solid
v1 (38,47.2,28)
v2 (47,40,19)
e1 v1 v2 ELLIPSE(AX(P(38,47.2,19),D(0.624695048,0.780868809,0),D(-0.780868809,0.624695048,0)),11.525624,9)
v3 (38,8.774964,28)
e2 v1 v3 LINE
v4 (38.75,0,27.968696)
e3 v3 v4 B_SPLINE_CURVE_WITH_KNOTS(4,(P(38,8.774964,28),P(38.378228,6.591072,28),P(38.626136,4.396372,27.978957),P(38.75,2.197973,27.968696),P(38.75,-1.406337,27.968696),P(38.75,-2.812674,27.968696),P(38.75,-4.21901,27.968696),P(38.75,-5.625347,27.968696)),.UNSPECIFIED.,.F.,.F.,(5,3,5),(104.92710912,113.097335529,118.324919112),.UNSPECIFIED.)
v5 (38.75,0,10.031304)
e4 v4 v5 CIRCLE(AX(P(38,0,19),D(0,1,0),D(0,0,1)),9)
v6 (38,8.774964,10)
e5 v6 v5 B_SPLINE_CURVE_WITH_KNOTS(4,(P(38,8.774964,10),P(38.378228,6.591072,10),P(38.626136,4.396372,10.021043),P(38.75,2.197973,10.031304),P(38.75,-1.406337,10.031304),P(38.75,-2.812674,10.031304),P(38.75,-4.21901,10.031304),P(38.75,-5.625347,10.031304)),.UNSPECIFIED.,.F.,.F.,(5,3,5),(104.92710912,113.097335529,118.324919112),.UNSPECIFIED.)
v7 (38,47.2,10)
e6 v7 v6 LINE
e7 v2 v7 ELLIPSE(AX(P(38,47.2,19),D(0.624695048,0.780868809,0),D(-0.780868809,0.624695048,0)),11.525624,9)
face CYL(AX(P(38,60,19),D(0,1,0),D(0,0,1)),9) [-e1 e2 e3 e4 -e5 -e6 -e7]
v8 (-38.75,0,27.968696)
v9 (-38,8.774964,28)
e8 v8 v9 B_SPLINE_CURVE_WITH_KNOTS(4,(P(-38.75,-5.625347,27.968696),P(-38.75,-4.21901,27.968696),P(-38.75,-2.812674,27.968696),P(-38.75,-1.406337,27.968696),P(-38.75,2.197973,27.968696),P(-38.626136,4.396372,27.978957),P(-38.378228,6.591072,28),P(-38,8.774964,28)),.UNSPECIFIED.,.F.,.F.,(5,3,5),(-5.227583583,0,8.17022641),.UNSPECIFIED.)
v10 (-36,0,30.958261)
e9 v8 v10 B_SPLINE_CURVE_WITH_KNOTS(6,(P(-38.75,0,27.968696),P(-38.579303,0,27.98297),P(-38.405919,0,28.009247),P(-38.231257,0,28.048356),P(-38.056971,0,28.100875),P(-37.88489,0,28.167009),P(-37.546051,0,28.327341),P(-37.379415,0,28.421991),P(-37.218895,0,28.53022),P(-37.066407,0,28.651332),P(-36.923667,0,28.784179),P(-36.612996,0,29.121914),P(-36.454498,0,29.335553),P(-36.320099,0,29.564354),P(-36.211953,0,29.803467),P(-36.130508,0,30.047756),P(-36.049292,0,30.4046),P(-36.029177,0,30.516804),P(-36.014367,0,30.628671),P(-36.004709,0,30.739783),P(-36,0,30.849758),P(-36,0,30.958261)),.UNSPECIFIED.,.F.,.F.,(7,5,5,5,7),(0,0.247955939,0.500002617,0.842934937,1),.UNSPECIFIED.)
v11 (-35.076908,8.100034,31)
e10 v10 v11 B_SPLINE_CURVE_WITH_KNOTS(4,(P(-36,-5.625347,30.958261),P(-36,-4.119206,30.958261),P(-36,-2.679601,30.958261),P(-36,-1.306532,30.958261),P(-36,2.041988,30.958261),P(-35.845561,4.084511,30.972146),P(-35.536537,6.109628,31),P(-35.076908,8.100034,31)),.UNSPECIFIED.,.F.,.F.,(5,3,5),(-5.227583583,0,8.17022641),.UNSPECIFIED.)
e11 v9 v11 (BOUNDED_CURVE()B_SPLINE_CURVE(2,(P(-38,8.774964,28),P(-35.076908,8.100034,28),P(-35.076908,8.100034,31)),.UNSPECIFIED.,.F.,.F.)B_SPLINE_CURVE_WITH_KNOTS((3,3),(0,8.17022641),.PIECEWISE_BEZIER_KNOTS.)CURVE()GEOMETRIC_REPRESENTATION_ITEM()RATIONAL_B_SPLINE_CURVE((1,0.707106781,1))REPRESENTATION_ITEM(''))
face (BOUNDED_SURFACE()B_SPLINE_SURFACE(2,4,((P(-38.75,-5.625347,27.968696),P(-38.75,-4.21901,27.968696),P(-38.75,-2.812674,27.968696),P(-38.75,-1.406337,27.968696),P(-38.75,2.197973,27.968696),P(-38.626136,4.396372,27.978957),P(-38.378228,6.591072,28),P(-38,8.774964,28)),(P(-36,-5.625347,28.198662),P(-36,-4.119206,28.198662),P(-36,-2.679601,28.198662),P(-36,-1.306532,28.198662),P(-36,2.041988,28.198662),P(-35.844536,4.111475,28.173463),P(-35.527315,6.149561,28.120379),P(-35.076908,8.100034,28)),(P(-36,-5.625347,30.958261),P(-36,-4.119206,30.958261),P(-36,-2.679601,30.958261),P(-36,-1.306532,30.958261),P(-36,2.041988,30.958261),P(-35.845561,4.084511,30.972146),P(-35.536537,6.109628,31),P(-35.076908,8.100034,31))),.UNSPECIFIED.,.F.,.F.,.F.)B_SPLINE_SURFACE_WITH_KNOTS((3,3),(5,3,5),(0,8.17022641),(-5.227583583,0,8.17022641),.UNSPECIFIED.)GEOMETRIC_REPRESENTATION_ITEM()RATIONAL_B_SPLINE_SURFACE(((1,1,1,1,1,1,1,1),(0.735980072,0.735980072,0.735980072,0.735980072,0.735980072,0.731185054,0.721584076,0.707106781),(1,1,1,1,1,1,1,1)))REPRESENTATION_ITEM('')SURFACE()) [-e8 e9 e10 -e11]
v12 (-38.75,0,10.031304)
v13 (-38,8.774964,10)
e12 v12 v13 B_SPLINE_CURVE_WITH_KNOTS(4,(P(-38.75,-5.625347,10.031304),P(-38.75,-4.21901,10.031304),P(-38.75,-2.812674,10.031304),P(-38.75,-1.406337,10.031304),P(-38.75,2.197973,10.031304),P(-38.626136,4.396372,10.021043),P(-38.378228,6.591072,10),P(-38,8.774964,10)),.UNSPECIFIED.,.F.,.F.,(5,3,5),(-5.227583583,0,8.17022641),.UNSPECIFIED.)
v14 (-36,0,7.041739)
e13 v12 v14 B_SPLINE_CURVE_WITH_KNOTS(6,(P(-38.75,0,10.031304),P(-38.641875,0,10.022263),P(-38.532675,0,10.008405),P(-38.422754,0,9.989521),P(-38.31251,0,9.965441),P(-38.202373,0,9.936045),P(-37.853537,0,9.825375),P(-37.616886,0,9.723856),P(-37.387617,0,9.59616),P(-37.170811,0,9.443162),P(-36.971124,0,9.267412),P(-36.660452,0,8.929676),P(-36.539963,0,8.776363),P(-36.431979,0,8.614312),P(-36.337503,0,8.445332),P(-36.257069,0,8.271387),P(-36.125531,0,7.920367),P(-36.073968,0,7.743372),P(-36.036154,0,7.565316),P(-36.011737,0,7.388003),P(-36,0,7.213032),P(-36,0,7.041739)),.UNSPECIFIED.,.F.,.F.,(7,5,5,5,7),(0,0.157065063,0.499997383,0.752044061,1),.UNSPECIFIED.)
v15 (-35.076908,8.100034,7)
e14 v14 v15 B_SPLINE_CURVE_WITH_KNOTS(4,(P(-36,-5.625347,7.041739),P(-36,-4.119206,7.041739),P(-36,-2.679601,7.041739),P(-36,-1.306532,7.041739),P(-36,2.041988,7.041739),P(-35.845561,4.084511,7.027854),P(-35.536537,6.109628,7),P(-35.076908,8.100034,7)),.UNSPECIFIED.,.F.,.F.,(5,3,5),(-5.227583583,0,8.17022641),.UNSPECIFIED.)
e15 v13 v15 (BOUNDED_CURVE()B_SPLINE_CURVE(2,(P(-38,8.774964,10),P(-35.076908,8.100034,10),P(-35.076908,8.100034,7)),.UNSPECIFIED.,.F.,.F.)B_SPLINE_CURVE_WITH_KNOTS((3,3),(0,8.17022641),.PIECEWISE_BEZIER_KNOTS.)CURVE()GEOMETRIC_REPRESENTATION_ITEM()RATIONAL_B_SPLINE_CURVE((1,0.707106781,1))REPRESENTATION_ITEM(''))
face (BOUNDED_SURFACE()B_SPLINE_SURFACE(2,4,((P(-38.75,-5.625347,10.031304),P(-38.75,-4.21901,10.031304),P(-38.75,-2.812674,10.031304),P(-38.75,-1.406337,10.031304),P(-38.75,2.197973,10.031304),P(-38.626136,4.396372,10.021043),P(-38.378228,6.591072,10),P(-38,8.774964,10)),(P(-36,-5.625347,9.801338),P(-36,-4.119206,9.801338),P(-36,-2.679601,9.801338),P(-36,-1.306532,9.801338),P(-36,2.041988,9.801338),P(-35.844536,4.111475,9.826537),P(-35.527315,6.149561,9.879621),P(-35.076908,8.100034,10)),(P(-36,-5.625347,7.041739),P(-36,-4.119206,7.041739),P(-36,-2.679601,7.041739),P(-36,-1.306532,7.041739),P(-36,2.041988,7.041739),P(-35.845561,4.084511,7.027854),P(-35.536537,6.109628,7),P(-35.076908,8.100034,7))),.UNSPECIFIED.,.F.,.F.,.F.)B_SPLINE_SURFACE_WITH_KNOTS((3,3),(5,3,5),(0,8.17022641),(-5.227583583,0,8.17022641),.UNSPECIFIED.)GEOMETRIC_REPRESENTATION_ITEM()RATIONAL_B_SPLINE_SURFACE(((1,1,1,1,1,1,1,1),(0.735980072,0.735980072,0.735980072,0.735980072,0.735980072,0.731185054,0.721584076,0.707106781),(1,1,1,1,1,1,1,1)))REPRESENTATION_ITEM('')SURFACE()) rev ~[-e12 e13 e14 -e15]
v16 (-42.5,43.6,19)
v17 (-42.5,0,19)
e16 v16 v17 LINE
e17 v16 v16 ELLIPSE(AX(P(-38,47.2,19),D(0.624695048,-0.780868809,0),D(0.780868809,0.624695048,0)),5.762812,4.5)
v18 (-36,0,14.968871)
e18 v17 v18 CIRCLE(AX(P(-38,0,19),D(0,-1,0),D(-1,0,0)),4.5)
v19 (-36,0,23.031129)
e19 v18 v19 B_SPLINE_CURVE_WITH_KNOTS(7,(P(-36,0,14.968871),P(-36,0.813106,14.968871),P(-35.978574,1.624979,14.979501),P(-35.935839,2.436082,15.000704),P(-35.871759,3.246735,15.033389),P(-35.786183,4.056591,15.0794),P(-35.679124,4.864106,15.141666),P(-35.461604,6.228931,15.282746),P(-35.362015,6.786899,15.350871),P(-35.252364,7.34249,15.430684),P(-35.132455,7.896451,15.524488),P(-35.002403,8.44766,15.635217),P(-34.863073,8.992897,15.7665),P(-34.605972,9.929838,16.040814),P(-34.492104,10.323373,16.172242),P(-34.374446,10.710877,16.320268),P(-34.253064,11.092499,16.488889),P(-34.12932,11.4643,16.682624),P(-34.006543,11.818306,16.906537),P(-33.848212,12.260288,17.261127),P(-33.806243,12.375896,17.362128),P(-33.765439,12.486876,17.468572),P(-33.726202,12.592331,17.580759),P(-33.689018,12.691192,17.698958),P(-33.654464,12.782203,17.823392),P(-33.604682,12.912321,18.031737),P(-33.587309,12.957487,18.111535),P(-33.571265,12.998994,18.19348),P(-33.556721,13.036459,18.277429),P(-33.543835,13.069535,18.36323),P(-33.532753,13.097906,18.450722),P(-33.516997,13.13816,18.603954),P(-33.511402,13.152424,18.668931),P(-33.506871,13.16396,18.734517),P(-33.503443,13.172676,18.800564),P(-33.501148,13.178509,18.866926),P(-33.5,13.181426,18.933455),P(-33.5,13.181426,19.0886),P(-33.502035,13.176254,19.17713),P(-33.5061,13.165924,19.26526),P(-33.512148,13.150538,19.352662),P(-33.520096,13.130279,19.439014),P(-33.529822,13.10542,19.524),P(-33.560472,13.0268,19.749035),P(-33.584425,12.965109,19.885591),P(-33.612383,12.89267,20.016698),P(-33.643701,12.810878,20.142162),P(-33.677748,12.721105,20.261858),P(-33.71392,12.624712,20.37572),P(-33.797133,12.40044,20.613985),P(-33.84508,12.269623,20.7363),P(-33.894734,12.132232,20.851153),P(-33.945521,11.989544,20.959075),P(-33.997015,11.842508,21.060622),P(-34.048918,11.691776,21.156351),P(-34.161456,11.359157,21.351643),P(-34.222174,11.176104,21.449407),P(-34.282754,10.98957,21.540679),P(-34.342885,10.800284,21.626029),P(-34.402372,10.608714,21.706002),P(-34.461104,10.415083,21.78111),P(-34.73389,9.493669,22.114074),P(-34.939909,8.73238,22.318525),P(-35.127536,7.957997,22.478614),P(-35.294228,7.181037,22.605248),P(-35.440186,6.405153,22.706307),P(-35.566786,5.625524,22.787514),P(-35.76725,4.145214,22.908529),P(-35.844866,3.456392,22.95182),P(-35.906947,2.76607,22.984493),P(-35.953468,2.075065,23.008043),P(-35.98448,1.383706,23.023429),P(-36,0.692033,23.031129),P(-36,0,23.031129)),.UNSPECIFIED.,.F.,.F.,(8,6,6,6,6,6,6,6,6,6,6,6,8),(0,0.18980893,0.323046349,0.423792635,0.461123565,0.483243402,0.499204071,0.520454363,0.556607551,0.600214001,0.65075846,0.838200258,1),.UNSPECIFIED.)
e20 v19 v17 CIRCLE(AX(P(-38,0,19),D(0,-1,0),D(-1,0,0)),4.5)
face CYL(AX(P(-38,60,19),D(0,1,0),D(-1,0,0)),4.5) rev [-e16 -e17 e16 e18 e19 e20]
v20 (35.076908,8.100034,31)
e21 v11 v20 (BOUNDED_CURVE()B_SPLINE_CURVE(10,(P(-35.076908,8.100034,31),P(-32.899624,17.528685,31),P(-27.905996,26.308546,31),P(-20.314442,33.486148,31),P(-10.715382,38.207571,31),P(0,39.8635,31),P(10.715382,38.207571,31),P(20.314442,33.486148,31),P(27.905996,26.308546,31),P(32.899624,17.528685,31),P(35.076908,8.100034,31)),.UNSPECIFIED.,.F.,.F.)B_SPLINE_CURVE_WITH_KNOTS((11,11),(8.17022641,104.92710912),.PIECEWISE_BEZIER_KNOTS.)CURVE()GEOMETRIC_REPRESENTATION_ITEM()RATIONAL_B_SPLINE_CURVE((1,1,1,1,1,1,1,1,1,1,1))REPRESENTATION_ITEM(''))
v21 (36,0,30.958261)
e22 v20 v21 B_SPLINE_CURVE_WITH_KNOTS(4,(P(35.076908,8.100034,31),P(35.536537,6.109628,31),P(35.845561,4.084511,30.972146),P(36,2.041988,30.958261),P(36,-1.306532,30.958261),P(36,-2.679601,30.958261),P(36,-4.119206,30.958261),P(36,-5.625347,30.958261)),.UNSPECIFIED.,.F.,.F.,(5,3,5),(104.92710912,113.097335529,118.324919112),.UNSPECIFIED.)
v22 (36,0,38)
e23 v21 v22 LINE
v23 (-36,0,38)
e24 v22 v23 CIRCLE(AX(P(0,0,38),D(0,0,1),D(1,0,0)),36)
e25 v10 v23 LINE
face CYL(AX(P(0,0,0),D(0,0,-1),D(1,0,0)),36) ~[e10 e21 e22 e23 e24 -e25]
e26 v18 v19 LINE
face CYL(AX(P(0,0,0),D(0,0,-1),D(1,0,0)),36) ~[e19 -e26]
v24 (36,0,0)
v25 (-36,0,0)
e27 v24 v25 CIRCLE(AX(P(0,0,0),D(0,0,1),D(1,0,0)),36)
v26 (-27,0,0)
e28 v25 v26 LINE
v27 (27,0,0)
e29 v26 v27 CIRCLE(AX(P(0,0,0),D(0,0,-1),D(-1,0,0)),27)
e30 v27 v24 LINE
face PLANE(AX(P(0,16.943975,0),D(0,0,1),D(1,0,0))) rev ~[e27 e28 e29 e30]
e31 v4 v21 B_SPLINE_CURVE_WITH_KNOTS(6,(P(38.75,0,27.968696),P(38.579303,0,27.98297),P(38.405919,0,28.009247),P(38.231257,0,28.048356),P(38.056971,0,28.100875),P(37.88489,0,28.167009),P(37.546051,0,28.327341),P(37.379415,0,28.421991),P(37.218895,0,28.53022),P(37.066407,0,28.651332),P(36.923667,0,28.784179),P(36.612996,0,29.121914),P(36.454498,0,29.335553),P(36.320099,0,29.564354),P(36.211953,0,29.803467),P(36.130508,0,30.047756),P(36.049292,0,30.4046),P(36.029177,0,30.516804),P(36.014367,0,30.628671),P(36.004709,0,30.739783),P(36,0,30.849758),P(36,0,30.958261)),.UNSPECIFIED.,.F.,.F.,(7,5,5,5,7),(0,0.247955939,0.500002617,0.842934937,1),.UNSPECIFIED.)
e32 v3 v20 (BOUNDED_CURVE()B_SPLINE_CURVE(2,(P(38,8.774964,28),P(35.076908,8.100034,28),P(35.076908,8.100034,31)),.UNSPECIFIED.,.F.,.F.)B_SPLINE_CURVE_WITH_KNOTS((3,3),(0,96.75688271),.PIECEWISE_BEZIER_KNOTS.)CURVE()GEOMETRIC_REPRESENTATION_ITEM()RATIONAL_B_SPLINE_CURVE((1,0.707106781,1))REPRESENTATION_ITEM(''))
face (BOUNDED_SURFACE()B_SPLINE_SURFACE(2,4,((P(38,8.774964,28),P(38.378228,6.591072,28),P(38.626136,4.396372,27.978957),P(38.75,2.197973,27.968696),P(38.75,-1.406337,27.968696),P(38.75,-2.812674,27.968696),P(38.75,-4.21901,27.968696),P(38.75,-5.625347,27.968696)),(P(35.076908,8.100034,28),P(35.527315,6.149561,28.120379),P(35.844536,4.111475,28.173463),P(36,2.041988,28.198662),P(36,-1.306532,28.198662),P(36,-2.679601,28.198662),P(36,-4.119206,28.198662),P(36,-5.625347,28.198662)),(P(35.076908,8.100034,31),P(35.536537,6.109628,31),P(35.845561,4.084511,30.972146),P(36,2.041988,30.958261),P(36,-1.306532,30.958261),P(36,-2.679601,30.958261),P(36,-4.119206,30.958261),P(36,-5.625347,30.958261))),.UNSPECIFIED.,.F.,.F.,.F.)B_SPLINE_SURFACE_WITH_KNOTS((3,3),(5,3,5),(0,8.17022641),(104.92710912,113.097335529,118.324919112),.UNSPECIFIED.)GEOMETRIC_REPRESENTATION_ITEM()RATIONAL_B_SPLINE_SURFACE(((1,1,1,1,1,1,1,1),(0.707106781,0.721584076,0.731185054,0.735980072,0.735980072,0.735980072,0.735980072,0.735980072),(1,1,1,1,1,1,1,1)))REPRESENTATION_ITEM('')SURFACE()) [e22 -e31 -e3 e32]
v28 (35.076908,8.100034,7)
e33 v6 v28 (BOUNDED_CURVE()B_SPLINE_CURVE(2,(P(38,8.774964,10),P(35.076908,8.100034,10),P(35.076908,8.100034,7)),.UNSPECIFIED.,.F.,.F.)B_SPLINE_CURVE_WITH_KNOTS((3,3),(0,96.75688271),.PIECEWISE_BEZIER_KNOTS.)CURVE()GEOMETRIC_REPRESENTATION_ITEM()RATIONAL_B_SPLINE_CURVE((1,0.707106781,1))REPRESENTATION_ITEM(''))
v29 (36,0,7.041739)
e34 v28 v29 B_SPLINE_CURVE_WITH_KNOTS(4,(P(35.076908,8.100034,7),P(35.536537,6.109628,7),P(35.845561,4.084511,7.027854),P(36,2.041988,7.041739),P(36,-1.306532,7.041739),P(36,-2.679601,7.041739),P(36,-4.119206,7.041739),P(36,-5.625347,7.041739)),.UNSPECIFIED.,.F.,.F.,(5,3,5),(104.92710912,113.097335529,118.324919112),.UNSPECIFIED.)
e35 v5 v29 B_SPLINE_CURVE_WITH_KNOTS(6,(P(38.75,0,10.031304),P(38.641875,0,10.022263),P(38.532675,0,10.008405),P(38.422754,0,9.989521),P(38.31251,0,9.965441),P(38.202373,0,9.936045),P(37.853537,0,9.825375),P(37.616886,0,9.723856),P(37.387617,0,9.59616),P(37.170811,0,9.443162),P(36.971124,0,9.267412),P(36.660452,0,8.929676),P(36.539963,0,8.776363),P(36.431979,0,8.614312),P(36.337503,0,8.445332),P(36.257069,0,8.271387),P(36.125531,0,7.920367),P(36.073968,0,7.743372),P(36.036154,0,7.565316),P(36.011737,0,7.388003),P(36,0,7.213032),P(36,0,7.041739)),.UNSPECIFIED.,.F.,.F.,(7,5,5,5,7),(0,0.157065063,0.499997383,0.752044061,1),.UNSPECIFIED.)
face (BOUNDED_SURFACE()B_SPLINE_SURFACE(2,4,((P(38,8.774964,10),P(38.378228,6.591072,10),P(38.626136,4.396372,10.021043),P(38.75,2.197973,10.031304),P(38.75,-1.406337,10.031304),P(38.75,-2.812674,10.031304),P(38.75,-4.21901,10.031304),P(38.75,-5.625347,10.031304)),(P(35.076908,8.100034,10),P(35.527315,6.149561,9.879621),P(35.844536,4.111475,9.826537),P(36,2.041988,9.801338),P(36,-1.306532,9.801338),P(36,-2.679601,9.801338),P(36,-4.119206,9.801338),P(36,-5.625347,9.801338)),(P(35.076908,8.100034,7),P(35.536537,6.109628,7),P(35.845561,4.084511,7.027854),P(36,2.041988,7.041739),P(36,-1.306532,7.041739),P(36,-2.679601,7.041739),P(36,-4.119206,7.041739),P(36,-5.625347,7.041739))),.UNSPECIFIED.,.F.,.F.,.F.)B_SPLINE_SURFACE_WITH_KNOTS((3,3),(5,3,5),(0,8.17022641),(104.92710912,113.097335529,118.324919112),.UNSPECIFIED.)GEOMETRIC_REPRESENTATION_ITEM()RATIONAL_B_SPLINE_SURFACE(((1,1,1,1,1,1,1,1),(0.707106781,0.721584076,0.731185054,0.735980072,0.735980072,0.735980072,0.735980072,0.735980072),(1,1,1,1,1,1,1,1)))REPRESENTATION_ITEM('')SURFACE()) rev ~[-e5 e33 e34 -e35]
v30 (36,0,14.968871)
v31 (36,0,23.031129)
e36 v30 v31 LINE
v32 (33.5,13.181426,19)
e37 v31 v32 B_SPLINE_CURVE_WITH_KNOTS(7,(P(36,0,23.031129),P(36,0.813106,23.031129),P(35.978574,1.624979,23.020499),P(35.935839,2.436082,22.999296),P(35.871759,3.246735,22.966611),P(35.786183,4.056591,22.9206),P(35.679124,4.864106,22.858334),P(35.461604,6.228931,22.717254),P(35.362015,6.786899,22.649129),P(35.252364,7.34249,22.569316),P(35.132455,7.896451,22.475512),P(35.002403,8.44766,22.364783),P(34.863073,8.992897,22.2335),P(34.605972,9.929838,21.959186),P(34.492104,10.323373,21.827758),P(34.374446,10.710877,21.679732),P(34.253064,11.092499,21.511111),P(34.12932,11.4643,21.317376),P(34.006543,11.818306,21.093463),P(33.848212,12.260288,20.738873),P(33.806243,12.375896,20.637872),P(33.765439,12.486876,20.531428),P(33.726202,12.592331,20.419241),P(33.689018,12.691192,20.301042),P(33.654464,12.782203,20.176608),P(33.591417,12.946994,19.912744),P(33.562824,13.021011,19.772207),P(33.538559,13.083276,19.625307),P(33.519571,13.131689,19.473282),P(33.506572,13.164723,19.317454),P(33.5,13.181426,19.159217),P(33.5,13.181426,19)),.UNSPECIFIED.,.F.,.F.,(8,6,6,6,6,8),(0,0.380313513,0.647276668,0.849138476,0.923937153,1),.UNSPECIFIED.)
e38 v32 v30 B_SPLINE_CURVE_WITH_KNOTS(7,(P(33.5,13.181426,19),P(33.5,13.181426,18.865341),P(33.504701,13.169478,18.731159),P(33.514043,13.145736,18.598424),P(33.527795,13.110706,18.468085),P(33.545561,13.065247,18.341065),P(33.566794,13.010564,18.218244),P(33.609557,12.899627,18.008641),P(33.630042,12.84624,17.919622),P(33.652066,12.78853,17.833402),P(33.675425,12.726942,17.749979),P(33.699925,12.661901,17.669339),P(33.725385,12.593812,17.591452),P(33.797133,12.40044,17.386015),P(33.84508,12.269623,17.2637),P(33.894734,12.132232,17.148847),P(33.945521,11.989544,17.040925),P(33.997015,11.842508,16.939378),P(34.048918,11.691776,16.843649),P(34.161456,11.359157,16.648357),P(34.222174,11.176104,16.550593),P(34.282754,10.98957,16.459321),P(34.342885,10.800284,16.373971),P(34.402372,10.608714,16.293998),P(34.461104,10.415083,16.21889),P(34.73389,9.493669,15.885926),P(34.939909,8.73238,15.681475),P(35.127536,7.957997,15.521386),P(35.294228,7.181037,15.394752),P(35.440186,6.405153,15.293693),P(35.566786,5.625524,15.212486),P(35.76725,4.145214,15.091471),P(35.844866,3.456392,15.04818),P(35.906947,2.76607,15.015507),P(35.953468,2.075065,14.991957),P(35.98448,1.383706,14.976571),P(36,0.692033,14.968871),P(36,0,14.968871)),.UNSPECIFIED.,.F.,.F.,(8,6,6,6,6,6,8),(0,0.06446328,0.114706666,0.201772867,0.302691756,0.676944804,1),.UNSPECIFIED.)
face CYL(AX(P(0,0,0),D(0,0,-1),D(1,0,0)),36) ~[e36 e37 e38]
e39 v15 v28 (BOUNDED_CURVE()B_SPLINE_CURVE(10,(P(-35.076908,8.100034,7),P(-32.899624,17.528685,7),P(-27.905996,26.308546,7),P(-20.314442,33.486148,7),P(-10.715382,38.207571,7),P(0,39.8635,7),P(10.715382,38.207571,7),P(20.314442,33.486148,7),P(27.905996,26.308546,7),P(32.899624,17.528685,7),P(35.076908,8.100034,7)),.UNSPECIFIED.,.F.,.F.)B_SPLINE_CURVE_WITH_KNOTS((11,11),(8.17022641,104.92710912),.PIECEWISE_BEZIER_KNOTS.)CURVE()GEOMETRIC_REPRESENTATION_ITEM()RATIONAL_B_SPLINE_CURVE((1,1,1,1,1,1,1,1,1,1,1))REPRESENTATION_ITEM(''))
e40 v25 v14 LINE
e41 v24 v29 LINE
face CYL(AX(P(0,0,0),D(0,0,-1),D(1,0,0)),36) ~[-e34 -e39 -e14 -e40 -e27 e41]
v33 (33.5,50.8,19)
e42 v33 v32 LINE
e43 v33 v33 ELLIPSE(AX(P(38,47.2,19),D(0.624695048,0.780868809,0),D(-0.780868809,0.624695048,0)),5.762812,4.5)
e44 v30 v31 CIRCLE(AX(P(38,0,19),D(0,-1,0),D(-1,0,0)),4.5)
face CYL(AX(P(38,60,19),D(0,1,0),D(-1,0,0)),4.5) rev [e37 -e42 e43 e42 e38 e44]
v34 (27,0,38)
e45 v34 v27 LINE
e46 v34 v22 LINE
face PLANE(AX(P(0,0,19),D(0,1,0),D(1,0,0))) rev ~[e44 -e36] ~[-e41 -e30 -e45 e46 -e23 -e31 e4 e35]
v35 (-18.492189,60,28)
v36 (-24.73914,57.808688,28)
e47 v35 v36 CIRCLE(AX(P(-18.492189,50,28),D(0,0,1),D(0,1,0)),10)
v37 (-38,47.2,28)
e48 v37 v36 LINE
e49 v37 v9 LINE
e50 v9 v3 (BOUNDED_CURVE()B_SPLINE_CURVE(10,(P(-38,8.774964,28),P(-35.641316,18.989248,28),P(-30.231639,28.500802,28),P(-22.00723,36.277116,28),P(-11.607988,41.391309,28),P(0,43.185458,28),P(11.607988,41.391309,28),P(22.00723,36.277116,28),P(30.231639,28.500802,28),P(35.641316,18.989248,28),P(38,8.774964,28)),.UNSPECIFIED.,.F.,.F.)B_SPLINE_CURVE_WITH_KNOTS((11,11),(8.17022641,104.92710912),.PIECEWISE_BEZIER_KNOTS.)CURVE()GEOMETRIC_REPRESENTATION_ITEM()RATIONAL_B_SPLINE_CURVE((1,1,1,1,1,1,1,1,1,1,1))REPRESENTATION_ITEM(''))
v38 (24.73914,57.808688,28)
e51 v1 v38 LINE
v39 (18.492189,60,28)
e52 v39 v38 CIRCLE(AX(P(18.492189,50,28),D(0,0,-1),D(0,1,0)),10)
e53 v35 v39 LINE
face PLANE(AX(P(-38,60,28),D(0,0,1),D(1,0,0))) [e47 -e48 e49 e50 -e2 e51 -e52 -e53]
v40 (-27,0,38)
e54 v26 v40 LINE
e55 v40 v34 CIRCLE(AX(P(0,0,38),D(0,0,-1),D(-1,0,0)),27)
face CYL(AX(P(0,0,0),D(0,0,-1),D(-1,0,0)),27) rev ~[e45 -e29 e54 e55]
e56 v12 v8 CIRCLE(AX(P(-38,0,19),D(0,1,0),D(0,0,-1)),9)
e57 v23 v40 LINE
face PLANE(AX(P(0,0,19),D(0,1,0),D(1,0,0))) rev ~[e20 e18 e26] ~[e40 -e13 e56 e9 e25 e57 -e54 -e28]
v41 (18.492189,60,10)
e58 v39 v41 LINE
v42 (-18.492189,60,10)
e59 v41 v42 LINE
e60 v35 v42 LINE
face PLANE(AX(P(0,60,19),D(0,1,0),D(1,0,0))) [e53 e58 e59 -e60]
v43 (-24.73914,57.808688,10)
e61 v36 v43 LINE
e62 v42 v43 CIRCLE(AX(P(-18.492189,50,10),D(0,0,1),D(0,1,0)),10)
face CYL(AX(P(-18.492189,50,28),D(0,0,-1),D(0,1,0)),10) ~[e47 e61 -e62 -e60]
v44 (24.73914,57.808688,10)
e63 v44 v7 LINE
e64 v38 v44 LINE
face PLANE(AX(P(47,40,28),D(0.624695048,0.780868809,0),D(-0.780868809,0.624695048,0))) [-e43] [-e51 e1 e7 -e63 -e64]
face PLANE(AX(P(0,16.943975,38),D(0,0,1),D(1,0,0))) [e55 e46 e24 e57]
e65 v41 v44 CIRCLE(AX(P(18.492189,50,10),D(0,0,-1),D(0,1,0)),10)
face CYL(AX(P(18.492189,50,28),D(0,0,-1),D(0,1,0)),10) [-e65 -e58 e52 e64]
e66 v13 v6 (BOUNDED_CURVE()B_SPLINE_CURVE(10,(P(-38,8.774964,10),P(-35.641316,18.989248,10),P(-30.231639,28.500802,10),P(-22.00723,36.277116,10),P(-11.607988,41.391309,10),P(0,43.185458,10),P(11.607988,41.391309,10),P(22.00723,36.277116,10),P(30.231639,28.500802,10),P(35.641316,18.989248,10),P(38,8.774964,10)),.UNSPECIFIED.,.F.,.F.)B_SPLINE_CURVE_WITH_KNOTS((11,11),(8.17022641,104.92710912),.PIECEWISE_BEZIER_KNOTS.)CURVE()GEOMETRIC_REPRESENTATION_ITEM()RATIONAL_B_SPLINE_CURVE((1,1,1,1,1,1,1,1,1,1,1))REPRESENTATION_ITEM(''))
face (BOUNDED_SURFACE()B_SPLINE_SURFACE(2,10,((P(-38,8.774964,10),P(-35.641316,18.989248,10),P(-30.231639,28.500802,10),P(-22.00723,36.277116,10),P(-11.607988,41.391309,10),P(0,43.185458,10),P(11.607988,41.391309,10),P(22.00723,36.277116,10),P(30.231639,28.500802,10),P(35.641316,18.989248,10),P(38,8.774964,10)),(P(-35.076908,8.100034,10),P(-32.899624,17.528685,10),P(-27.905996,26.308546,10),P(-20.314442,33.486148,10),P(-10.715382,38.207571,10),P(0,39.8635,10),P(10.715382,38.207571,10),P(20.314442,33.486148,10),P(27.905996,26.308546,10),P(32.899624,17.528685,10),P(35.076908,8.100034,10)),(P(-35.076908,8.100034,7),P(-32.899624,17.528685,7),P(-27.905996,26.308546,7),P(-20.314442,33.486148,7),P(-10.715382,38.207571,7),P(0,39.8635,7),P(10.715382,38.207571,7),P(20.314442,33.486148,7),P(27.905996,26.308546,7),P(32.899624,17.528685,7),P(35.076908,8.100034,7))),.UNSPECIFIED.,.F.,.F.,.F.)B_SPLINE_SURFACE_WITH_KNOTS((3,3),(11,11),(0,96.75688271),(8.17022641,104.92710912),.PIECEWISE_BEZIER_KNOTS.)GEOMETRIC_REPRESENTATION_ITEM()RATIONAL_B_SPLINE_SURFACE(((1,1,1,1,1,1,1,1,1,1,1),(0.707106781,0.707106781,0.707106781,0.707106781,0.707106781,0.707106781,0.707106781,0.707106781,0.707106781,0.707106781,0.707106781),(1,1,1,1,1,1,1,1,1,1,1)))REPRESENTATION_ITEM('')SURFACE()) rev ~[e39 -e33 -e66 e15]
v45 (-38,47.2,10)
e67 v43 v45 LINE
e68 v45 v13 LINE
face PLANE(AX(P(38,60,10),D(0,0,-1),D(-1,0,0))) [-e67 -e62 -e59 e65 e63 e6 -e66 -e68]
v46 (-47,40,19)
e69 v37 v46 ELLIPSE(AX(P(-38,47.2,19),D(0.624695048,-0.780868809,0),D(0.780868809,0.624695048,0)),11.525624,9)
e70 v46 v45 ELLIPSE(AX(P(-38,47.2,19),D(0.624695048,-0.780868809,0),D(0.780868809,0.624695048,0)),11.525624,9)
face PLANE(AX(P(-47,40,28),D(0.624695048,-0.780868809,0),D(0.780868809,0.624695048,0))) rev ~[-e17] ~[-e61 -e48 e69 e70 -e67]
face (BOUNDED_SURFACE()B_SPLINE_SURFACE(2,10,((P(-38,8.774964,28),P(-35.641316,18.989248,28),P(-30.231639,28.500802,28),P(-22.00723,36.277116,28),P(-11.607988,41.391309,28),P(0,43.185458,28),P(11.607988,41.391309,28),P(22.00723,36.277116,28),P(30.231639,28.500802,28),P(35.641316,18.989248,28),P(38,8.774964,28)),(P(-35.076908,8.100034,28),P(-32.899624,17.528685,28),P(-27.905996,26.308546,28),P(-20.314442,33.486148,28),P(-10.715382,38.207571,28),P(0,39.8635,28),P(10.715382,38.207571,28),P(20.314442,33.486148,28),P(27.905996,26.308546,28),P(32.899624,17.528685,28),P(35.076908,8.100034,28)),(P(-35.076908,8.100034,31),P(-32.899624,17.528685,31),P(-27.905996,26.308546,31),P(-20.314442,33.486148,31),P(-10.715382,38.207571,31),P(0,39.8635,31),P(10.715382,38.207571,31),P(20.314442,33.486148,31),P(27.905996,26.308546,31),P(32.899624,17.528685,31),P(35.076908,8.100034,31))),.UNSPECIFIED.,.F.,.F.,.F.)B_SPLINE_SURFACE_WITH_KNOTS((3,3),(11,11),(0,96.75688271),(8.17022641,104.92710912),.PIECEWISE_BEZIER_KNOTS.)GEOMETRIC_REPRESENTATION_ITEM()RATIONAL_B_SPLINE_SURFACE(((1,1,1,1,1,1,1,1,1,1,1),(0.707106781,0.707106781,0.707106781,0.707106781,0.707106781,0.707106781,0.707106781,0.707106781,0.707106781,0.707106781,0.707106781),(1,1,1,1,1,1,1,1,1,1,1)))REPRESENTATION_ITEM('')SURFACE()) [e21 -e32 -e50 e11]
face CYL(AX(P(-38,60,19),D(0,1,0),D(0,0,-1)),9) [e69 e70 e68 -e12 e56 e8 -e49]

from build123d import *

# Parameters (mm, degrees)
BOSS_EXTRUDE1_DEPTH = 38
SKETCH3_R           = 4.5
BOSS_EXTRUDE2_DEPTH = 60
CUT_EXTRUDE1_DEPTH  = 60
CUT_EXTRUDE2_DEPTH  = 60
FILLET1_R           = 10
FILLET2_R           = 3


with BuildPart() as part:
    # Sketch2 → Boss-Extrude1 (new body)
    with BuildSketch(Plane.XY):
        with BuildLine():
            Line((-36, 0), (-27, 0))
            ThreePointArc((-27, 0), (0, 27), (27, 0))
            Line((27, 0), (36, 0))
            ThreePointArc((36, 0), (0, 36), (-36, 0))
        make_face()
    extrude(amount=BOSS_EXTRUDE1_DEPTH)

    # Sketch3 → Boss-Extrude2 (add)
    with BuildSketch(Plane(origin=(0, 60, 0), x_dir=(-1, 0, 0), z_dir=(0, -1, 0))):
        with BuildLine():
            Line((38, -28), (-38, -28))
            ThreePointArc((-38, -28), (-47, -19), (-38, -10))
            Line((-38, -10), (38, -10))
            ThreePointArc((38, -10), (47, -19), (38, -28))
        make_face()
        with Locations((38, -19)):
            Circle(SKETCH3_R, mode=Mode.SUBTRACT)
        with Locations((-38, -19)):
            Circle(SKETCH3_R, mode=Mode.SUBTRACT)
    extrude(amount=BOSS_EXTRUDE2_DEPTH)

    # Sketch4 → Cut-Extrude1 (cut)
    with BuildSketch(Plane.XY.offset(28)):
        with BuildLine():
            Line((-27, 0), (27, 0))
            ThreePointArc((27, 0), (0, 27), (-27, 0))
        make_face()
    extrude(amount=-CUT_EXTRUDE1_DEPTH, mode=Mode.SUBTRACT)

    # Sketch5 → Cut-Extrude2 (cut)
    with BuildSketch(Plane.XY.offset(28)):
        Polygon((-47, 40), (-22, 60), (-47, 60), align=None)
        Polygon((47, 40), (22, 60), (47, 60), align=None)
    extrude(amount=-CUT_EXTRUDE2_DEPTH, mode=Mode.SUBTRACT)

    # Fillet1
    fillet1_edges = [part.edges().sort_by_distance(p)[0] for p in [
        (-22, 60, 19),
        (22, 60, 19),
    ]]
    fillet(fillet1_edges, radius=FILLET1_R)

    # Fillet2
    fillet2_edges = [part.edges().sort_by_distance(p)[0] for p in [
        (0, 36, 10),
        (0, 36, 28),
    ]]
    fillet(fillet2_edges, radius=FILLET2_R)


solid = part.part
